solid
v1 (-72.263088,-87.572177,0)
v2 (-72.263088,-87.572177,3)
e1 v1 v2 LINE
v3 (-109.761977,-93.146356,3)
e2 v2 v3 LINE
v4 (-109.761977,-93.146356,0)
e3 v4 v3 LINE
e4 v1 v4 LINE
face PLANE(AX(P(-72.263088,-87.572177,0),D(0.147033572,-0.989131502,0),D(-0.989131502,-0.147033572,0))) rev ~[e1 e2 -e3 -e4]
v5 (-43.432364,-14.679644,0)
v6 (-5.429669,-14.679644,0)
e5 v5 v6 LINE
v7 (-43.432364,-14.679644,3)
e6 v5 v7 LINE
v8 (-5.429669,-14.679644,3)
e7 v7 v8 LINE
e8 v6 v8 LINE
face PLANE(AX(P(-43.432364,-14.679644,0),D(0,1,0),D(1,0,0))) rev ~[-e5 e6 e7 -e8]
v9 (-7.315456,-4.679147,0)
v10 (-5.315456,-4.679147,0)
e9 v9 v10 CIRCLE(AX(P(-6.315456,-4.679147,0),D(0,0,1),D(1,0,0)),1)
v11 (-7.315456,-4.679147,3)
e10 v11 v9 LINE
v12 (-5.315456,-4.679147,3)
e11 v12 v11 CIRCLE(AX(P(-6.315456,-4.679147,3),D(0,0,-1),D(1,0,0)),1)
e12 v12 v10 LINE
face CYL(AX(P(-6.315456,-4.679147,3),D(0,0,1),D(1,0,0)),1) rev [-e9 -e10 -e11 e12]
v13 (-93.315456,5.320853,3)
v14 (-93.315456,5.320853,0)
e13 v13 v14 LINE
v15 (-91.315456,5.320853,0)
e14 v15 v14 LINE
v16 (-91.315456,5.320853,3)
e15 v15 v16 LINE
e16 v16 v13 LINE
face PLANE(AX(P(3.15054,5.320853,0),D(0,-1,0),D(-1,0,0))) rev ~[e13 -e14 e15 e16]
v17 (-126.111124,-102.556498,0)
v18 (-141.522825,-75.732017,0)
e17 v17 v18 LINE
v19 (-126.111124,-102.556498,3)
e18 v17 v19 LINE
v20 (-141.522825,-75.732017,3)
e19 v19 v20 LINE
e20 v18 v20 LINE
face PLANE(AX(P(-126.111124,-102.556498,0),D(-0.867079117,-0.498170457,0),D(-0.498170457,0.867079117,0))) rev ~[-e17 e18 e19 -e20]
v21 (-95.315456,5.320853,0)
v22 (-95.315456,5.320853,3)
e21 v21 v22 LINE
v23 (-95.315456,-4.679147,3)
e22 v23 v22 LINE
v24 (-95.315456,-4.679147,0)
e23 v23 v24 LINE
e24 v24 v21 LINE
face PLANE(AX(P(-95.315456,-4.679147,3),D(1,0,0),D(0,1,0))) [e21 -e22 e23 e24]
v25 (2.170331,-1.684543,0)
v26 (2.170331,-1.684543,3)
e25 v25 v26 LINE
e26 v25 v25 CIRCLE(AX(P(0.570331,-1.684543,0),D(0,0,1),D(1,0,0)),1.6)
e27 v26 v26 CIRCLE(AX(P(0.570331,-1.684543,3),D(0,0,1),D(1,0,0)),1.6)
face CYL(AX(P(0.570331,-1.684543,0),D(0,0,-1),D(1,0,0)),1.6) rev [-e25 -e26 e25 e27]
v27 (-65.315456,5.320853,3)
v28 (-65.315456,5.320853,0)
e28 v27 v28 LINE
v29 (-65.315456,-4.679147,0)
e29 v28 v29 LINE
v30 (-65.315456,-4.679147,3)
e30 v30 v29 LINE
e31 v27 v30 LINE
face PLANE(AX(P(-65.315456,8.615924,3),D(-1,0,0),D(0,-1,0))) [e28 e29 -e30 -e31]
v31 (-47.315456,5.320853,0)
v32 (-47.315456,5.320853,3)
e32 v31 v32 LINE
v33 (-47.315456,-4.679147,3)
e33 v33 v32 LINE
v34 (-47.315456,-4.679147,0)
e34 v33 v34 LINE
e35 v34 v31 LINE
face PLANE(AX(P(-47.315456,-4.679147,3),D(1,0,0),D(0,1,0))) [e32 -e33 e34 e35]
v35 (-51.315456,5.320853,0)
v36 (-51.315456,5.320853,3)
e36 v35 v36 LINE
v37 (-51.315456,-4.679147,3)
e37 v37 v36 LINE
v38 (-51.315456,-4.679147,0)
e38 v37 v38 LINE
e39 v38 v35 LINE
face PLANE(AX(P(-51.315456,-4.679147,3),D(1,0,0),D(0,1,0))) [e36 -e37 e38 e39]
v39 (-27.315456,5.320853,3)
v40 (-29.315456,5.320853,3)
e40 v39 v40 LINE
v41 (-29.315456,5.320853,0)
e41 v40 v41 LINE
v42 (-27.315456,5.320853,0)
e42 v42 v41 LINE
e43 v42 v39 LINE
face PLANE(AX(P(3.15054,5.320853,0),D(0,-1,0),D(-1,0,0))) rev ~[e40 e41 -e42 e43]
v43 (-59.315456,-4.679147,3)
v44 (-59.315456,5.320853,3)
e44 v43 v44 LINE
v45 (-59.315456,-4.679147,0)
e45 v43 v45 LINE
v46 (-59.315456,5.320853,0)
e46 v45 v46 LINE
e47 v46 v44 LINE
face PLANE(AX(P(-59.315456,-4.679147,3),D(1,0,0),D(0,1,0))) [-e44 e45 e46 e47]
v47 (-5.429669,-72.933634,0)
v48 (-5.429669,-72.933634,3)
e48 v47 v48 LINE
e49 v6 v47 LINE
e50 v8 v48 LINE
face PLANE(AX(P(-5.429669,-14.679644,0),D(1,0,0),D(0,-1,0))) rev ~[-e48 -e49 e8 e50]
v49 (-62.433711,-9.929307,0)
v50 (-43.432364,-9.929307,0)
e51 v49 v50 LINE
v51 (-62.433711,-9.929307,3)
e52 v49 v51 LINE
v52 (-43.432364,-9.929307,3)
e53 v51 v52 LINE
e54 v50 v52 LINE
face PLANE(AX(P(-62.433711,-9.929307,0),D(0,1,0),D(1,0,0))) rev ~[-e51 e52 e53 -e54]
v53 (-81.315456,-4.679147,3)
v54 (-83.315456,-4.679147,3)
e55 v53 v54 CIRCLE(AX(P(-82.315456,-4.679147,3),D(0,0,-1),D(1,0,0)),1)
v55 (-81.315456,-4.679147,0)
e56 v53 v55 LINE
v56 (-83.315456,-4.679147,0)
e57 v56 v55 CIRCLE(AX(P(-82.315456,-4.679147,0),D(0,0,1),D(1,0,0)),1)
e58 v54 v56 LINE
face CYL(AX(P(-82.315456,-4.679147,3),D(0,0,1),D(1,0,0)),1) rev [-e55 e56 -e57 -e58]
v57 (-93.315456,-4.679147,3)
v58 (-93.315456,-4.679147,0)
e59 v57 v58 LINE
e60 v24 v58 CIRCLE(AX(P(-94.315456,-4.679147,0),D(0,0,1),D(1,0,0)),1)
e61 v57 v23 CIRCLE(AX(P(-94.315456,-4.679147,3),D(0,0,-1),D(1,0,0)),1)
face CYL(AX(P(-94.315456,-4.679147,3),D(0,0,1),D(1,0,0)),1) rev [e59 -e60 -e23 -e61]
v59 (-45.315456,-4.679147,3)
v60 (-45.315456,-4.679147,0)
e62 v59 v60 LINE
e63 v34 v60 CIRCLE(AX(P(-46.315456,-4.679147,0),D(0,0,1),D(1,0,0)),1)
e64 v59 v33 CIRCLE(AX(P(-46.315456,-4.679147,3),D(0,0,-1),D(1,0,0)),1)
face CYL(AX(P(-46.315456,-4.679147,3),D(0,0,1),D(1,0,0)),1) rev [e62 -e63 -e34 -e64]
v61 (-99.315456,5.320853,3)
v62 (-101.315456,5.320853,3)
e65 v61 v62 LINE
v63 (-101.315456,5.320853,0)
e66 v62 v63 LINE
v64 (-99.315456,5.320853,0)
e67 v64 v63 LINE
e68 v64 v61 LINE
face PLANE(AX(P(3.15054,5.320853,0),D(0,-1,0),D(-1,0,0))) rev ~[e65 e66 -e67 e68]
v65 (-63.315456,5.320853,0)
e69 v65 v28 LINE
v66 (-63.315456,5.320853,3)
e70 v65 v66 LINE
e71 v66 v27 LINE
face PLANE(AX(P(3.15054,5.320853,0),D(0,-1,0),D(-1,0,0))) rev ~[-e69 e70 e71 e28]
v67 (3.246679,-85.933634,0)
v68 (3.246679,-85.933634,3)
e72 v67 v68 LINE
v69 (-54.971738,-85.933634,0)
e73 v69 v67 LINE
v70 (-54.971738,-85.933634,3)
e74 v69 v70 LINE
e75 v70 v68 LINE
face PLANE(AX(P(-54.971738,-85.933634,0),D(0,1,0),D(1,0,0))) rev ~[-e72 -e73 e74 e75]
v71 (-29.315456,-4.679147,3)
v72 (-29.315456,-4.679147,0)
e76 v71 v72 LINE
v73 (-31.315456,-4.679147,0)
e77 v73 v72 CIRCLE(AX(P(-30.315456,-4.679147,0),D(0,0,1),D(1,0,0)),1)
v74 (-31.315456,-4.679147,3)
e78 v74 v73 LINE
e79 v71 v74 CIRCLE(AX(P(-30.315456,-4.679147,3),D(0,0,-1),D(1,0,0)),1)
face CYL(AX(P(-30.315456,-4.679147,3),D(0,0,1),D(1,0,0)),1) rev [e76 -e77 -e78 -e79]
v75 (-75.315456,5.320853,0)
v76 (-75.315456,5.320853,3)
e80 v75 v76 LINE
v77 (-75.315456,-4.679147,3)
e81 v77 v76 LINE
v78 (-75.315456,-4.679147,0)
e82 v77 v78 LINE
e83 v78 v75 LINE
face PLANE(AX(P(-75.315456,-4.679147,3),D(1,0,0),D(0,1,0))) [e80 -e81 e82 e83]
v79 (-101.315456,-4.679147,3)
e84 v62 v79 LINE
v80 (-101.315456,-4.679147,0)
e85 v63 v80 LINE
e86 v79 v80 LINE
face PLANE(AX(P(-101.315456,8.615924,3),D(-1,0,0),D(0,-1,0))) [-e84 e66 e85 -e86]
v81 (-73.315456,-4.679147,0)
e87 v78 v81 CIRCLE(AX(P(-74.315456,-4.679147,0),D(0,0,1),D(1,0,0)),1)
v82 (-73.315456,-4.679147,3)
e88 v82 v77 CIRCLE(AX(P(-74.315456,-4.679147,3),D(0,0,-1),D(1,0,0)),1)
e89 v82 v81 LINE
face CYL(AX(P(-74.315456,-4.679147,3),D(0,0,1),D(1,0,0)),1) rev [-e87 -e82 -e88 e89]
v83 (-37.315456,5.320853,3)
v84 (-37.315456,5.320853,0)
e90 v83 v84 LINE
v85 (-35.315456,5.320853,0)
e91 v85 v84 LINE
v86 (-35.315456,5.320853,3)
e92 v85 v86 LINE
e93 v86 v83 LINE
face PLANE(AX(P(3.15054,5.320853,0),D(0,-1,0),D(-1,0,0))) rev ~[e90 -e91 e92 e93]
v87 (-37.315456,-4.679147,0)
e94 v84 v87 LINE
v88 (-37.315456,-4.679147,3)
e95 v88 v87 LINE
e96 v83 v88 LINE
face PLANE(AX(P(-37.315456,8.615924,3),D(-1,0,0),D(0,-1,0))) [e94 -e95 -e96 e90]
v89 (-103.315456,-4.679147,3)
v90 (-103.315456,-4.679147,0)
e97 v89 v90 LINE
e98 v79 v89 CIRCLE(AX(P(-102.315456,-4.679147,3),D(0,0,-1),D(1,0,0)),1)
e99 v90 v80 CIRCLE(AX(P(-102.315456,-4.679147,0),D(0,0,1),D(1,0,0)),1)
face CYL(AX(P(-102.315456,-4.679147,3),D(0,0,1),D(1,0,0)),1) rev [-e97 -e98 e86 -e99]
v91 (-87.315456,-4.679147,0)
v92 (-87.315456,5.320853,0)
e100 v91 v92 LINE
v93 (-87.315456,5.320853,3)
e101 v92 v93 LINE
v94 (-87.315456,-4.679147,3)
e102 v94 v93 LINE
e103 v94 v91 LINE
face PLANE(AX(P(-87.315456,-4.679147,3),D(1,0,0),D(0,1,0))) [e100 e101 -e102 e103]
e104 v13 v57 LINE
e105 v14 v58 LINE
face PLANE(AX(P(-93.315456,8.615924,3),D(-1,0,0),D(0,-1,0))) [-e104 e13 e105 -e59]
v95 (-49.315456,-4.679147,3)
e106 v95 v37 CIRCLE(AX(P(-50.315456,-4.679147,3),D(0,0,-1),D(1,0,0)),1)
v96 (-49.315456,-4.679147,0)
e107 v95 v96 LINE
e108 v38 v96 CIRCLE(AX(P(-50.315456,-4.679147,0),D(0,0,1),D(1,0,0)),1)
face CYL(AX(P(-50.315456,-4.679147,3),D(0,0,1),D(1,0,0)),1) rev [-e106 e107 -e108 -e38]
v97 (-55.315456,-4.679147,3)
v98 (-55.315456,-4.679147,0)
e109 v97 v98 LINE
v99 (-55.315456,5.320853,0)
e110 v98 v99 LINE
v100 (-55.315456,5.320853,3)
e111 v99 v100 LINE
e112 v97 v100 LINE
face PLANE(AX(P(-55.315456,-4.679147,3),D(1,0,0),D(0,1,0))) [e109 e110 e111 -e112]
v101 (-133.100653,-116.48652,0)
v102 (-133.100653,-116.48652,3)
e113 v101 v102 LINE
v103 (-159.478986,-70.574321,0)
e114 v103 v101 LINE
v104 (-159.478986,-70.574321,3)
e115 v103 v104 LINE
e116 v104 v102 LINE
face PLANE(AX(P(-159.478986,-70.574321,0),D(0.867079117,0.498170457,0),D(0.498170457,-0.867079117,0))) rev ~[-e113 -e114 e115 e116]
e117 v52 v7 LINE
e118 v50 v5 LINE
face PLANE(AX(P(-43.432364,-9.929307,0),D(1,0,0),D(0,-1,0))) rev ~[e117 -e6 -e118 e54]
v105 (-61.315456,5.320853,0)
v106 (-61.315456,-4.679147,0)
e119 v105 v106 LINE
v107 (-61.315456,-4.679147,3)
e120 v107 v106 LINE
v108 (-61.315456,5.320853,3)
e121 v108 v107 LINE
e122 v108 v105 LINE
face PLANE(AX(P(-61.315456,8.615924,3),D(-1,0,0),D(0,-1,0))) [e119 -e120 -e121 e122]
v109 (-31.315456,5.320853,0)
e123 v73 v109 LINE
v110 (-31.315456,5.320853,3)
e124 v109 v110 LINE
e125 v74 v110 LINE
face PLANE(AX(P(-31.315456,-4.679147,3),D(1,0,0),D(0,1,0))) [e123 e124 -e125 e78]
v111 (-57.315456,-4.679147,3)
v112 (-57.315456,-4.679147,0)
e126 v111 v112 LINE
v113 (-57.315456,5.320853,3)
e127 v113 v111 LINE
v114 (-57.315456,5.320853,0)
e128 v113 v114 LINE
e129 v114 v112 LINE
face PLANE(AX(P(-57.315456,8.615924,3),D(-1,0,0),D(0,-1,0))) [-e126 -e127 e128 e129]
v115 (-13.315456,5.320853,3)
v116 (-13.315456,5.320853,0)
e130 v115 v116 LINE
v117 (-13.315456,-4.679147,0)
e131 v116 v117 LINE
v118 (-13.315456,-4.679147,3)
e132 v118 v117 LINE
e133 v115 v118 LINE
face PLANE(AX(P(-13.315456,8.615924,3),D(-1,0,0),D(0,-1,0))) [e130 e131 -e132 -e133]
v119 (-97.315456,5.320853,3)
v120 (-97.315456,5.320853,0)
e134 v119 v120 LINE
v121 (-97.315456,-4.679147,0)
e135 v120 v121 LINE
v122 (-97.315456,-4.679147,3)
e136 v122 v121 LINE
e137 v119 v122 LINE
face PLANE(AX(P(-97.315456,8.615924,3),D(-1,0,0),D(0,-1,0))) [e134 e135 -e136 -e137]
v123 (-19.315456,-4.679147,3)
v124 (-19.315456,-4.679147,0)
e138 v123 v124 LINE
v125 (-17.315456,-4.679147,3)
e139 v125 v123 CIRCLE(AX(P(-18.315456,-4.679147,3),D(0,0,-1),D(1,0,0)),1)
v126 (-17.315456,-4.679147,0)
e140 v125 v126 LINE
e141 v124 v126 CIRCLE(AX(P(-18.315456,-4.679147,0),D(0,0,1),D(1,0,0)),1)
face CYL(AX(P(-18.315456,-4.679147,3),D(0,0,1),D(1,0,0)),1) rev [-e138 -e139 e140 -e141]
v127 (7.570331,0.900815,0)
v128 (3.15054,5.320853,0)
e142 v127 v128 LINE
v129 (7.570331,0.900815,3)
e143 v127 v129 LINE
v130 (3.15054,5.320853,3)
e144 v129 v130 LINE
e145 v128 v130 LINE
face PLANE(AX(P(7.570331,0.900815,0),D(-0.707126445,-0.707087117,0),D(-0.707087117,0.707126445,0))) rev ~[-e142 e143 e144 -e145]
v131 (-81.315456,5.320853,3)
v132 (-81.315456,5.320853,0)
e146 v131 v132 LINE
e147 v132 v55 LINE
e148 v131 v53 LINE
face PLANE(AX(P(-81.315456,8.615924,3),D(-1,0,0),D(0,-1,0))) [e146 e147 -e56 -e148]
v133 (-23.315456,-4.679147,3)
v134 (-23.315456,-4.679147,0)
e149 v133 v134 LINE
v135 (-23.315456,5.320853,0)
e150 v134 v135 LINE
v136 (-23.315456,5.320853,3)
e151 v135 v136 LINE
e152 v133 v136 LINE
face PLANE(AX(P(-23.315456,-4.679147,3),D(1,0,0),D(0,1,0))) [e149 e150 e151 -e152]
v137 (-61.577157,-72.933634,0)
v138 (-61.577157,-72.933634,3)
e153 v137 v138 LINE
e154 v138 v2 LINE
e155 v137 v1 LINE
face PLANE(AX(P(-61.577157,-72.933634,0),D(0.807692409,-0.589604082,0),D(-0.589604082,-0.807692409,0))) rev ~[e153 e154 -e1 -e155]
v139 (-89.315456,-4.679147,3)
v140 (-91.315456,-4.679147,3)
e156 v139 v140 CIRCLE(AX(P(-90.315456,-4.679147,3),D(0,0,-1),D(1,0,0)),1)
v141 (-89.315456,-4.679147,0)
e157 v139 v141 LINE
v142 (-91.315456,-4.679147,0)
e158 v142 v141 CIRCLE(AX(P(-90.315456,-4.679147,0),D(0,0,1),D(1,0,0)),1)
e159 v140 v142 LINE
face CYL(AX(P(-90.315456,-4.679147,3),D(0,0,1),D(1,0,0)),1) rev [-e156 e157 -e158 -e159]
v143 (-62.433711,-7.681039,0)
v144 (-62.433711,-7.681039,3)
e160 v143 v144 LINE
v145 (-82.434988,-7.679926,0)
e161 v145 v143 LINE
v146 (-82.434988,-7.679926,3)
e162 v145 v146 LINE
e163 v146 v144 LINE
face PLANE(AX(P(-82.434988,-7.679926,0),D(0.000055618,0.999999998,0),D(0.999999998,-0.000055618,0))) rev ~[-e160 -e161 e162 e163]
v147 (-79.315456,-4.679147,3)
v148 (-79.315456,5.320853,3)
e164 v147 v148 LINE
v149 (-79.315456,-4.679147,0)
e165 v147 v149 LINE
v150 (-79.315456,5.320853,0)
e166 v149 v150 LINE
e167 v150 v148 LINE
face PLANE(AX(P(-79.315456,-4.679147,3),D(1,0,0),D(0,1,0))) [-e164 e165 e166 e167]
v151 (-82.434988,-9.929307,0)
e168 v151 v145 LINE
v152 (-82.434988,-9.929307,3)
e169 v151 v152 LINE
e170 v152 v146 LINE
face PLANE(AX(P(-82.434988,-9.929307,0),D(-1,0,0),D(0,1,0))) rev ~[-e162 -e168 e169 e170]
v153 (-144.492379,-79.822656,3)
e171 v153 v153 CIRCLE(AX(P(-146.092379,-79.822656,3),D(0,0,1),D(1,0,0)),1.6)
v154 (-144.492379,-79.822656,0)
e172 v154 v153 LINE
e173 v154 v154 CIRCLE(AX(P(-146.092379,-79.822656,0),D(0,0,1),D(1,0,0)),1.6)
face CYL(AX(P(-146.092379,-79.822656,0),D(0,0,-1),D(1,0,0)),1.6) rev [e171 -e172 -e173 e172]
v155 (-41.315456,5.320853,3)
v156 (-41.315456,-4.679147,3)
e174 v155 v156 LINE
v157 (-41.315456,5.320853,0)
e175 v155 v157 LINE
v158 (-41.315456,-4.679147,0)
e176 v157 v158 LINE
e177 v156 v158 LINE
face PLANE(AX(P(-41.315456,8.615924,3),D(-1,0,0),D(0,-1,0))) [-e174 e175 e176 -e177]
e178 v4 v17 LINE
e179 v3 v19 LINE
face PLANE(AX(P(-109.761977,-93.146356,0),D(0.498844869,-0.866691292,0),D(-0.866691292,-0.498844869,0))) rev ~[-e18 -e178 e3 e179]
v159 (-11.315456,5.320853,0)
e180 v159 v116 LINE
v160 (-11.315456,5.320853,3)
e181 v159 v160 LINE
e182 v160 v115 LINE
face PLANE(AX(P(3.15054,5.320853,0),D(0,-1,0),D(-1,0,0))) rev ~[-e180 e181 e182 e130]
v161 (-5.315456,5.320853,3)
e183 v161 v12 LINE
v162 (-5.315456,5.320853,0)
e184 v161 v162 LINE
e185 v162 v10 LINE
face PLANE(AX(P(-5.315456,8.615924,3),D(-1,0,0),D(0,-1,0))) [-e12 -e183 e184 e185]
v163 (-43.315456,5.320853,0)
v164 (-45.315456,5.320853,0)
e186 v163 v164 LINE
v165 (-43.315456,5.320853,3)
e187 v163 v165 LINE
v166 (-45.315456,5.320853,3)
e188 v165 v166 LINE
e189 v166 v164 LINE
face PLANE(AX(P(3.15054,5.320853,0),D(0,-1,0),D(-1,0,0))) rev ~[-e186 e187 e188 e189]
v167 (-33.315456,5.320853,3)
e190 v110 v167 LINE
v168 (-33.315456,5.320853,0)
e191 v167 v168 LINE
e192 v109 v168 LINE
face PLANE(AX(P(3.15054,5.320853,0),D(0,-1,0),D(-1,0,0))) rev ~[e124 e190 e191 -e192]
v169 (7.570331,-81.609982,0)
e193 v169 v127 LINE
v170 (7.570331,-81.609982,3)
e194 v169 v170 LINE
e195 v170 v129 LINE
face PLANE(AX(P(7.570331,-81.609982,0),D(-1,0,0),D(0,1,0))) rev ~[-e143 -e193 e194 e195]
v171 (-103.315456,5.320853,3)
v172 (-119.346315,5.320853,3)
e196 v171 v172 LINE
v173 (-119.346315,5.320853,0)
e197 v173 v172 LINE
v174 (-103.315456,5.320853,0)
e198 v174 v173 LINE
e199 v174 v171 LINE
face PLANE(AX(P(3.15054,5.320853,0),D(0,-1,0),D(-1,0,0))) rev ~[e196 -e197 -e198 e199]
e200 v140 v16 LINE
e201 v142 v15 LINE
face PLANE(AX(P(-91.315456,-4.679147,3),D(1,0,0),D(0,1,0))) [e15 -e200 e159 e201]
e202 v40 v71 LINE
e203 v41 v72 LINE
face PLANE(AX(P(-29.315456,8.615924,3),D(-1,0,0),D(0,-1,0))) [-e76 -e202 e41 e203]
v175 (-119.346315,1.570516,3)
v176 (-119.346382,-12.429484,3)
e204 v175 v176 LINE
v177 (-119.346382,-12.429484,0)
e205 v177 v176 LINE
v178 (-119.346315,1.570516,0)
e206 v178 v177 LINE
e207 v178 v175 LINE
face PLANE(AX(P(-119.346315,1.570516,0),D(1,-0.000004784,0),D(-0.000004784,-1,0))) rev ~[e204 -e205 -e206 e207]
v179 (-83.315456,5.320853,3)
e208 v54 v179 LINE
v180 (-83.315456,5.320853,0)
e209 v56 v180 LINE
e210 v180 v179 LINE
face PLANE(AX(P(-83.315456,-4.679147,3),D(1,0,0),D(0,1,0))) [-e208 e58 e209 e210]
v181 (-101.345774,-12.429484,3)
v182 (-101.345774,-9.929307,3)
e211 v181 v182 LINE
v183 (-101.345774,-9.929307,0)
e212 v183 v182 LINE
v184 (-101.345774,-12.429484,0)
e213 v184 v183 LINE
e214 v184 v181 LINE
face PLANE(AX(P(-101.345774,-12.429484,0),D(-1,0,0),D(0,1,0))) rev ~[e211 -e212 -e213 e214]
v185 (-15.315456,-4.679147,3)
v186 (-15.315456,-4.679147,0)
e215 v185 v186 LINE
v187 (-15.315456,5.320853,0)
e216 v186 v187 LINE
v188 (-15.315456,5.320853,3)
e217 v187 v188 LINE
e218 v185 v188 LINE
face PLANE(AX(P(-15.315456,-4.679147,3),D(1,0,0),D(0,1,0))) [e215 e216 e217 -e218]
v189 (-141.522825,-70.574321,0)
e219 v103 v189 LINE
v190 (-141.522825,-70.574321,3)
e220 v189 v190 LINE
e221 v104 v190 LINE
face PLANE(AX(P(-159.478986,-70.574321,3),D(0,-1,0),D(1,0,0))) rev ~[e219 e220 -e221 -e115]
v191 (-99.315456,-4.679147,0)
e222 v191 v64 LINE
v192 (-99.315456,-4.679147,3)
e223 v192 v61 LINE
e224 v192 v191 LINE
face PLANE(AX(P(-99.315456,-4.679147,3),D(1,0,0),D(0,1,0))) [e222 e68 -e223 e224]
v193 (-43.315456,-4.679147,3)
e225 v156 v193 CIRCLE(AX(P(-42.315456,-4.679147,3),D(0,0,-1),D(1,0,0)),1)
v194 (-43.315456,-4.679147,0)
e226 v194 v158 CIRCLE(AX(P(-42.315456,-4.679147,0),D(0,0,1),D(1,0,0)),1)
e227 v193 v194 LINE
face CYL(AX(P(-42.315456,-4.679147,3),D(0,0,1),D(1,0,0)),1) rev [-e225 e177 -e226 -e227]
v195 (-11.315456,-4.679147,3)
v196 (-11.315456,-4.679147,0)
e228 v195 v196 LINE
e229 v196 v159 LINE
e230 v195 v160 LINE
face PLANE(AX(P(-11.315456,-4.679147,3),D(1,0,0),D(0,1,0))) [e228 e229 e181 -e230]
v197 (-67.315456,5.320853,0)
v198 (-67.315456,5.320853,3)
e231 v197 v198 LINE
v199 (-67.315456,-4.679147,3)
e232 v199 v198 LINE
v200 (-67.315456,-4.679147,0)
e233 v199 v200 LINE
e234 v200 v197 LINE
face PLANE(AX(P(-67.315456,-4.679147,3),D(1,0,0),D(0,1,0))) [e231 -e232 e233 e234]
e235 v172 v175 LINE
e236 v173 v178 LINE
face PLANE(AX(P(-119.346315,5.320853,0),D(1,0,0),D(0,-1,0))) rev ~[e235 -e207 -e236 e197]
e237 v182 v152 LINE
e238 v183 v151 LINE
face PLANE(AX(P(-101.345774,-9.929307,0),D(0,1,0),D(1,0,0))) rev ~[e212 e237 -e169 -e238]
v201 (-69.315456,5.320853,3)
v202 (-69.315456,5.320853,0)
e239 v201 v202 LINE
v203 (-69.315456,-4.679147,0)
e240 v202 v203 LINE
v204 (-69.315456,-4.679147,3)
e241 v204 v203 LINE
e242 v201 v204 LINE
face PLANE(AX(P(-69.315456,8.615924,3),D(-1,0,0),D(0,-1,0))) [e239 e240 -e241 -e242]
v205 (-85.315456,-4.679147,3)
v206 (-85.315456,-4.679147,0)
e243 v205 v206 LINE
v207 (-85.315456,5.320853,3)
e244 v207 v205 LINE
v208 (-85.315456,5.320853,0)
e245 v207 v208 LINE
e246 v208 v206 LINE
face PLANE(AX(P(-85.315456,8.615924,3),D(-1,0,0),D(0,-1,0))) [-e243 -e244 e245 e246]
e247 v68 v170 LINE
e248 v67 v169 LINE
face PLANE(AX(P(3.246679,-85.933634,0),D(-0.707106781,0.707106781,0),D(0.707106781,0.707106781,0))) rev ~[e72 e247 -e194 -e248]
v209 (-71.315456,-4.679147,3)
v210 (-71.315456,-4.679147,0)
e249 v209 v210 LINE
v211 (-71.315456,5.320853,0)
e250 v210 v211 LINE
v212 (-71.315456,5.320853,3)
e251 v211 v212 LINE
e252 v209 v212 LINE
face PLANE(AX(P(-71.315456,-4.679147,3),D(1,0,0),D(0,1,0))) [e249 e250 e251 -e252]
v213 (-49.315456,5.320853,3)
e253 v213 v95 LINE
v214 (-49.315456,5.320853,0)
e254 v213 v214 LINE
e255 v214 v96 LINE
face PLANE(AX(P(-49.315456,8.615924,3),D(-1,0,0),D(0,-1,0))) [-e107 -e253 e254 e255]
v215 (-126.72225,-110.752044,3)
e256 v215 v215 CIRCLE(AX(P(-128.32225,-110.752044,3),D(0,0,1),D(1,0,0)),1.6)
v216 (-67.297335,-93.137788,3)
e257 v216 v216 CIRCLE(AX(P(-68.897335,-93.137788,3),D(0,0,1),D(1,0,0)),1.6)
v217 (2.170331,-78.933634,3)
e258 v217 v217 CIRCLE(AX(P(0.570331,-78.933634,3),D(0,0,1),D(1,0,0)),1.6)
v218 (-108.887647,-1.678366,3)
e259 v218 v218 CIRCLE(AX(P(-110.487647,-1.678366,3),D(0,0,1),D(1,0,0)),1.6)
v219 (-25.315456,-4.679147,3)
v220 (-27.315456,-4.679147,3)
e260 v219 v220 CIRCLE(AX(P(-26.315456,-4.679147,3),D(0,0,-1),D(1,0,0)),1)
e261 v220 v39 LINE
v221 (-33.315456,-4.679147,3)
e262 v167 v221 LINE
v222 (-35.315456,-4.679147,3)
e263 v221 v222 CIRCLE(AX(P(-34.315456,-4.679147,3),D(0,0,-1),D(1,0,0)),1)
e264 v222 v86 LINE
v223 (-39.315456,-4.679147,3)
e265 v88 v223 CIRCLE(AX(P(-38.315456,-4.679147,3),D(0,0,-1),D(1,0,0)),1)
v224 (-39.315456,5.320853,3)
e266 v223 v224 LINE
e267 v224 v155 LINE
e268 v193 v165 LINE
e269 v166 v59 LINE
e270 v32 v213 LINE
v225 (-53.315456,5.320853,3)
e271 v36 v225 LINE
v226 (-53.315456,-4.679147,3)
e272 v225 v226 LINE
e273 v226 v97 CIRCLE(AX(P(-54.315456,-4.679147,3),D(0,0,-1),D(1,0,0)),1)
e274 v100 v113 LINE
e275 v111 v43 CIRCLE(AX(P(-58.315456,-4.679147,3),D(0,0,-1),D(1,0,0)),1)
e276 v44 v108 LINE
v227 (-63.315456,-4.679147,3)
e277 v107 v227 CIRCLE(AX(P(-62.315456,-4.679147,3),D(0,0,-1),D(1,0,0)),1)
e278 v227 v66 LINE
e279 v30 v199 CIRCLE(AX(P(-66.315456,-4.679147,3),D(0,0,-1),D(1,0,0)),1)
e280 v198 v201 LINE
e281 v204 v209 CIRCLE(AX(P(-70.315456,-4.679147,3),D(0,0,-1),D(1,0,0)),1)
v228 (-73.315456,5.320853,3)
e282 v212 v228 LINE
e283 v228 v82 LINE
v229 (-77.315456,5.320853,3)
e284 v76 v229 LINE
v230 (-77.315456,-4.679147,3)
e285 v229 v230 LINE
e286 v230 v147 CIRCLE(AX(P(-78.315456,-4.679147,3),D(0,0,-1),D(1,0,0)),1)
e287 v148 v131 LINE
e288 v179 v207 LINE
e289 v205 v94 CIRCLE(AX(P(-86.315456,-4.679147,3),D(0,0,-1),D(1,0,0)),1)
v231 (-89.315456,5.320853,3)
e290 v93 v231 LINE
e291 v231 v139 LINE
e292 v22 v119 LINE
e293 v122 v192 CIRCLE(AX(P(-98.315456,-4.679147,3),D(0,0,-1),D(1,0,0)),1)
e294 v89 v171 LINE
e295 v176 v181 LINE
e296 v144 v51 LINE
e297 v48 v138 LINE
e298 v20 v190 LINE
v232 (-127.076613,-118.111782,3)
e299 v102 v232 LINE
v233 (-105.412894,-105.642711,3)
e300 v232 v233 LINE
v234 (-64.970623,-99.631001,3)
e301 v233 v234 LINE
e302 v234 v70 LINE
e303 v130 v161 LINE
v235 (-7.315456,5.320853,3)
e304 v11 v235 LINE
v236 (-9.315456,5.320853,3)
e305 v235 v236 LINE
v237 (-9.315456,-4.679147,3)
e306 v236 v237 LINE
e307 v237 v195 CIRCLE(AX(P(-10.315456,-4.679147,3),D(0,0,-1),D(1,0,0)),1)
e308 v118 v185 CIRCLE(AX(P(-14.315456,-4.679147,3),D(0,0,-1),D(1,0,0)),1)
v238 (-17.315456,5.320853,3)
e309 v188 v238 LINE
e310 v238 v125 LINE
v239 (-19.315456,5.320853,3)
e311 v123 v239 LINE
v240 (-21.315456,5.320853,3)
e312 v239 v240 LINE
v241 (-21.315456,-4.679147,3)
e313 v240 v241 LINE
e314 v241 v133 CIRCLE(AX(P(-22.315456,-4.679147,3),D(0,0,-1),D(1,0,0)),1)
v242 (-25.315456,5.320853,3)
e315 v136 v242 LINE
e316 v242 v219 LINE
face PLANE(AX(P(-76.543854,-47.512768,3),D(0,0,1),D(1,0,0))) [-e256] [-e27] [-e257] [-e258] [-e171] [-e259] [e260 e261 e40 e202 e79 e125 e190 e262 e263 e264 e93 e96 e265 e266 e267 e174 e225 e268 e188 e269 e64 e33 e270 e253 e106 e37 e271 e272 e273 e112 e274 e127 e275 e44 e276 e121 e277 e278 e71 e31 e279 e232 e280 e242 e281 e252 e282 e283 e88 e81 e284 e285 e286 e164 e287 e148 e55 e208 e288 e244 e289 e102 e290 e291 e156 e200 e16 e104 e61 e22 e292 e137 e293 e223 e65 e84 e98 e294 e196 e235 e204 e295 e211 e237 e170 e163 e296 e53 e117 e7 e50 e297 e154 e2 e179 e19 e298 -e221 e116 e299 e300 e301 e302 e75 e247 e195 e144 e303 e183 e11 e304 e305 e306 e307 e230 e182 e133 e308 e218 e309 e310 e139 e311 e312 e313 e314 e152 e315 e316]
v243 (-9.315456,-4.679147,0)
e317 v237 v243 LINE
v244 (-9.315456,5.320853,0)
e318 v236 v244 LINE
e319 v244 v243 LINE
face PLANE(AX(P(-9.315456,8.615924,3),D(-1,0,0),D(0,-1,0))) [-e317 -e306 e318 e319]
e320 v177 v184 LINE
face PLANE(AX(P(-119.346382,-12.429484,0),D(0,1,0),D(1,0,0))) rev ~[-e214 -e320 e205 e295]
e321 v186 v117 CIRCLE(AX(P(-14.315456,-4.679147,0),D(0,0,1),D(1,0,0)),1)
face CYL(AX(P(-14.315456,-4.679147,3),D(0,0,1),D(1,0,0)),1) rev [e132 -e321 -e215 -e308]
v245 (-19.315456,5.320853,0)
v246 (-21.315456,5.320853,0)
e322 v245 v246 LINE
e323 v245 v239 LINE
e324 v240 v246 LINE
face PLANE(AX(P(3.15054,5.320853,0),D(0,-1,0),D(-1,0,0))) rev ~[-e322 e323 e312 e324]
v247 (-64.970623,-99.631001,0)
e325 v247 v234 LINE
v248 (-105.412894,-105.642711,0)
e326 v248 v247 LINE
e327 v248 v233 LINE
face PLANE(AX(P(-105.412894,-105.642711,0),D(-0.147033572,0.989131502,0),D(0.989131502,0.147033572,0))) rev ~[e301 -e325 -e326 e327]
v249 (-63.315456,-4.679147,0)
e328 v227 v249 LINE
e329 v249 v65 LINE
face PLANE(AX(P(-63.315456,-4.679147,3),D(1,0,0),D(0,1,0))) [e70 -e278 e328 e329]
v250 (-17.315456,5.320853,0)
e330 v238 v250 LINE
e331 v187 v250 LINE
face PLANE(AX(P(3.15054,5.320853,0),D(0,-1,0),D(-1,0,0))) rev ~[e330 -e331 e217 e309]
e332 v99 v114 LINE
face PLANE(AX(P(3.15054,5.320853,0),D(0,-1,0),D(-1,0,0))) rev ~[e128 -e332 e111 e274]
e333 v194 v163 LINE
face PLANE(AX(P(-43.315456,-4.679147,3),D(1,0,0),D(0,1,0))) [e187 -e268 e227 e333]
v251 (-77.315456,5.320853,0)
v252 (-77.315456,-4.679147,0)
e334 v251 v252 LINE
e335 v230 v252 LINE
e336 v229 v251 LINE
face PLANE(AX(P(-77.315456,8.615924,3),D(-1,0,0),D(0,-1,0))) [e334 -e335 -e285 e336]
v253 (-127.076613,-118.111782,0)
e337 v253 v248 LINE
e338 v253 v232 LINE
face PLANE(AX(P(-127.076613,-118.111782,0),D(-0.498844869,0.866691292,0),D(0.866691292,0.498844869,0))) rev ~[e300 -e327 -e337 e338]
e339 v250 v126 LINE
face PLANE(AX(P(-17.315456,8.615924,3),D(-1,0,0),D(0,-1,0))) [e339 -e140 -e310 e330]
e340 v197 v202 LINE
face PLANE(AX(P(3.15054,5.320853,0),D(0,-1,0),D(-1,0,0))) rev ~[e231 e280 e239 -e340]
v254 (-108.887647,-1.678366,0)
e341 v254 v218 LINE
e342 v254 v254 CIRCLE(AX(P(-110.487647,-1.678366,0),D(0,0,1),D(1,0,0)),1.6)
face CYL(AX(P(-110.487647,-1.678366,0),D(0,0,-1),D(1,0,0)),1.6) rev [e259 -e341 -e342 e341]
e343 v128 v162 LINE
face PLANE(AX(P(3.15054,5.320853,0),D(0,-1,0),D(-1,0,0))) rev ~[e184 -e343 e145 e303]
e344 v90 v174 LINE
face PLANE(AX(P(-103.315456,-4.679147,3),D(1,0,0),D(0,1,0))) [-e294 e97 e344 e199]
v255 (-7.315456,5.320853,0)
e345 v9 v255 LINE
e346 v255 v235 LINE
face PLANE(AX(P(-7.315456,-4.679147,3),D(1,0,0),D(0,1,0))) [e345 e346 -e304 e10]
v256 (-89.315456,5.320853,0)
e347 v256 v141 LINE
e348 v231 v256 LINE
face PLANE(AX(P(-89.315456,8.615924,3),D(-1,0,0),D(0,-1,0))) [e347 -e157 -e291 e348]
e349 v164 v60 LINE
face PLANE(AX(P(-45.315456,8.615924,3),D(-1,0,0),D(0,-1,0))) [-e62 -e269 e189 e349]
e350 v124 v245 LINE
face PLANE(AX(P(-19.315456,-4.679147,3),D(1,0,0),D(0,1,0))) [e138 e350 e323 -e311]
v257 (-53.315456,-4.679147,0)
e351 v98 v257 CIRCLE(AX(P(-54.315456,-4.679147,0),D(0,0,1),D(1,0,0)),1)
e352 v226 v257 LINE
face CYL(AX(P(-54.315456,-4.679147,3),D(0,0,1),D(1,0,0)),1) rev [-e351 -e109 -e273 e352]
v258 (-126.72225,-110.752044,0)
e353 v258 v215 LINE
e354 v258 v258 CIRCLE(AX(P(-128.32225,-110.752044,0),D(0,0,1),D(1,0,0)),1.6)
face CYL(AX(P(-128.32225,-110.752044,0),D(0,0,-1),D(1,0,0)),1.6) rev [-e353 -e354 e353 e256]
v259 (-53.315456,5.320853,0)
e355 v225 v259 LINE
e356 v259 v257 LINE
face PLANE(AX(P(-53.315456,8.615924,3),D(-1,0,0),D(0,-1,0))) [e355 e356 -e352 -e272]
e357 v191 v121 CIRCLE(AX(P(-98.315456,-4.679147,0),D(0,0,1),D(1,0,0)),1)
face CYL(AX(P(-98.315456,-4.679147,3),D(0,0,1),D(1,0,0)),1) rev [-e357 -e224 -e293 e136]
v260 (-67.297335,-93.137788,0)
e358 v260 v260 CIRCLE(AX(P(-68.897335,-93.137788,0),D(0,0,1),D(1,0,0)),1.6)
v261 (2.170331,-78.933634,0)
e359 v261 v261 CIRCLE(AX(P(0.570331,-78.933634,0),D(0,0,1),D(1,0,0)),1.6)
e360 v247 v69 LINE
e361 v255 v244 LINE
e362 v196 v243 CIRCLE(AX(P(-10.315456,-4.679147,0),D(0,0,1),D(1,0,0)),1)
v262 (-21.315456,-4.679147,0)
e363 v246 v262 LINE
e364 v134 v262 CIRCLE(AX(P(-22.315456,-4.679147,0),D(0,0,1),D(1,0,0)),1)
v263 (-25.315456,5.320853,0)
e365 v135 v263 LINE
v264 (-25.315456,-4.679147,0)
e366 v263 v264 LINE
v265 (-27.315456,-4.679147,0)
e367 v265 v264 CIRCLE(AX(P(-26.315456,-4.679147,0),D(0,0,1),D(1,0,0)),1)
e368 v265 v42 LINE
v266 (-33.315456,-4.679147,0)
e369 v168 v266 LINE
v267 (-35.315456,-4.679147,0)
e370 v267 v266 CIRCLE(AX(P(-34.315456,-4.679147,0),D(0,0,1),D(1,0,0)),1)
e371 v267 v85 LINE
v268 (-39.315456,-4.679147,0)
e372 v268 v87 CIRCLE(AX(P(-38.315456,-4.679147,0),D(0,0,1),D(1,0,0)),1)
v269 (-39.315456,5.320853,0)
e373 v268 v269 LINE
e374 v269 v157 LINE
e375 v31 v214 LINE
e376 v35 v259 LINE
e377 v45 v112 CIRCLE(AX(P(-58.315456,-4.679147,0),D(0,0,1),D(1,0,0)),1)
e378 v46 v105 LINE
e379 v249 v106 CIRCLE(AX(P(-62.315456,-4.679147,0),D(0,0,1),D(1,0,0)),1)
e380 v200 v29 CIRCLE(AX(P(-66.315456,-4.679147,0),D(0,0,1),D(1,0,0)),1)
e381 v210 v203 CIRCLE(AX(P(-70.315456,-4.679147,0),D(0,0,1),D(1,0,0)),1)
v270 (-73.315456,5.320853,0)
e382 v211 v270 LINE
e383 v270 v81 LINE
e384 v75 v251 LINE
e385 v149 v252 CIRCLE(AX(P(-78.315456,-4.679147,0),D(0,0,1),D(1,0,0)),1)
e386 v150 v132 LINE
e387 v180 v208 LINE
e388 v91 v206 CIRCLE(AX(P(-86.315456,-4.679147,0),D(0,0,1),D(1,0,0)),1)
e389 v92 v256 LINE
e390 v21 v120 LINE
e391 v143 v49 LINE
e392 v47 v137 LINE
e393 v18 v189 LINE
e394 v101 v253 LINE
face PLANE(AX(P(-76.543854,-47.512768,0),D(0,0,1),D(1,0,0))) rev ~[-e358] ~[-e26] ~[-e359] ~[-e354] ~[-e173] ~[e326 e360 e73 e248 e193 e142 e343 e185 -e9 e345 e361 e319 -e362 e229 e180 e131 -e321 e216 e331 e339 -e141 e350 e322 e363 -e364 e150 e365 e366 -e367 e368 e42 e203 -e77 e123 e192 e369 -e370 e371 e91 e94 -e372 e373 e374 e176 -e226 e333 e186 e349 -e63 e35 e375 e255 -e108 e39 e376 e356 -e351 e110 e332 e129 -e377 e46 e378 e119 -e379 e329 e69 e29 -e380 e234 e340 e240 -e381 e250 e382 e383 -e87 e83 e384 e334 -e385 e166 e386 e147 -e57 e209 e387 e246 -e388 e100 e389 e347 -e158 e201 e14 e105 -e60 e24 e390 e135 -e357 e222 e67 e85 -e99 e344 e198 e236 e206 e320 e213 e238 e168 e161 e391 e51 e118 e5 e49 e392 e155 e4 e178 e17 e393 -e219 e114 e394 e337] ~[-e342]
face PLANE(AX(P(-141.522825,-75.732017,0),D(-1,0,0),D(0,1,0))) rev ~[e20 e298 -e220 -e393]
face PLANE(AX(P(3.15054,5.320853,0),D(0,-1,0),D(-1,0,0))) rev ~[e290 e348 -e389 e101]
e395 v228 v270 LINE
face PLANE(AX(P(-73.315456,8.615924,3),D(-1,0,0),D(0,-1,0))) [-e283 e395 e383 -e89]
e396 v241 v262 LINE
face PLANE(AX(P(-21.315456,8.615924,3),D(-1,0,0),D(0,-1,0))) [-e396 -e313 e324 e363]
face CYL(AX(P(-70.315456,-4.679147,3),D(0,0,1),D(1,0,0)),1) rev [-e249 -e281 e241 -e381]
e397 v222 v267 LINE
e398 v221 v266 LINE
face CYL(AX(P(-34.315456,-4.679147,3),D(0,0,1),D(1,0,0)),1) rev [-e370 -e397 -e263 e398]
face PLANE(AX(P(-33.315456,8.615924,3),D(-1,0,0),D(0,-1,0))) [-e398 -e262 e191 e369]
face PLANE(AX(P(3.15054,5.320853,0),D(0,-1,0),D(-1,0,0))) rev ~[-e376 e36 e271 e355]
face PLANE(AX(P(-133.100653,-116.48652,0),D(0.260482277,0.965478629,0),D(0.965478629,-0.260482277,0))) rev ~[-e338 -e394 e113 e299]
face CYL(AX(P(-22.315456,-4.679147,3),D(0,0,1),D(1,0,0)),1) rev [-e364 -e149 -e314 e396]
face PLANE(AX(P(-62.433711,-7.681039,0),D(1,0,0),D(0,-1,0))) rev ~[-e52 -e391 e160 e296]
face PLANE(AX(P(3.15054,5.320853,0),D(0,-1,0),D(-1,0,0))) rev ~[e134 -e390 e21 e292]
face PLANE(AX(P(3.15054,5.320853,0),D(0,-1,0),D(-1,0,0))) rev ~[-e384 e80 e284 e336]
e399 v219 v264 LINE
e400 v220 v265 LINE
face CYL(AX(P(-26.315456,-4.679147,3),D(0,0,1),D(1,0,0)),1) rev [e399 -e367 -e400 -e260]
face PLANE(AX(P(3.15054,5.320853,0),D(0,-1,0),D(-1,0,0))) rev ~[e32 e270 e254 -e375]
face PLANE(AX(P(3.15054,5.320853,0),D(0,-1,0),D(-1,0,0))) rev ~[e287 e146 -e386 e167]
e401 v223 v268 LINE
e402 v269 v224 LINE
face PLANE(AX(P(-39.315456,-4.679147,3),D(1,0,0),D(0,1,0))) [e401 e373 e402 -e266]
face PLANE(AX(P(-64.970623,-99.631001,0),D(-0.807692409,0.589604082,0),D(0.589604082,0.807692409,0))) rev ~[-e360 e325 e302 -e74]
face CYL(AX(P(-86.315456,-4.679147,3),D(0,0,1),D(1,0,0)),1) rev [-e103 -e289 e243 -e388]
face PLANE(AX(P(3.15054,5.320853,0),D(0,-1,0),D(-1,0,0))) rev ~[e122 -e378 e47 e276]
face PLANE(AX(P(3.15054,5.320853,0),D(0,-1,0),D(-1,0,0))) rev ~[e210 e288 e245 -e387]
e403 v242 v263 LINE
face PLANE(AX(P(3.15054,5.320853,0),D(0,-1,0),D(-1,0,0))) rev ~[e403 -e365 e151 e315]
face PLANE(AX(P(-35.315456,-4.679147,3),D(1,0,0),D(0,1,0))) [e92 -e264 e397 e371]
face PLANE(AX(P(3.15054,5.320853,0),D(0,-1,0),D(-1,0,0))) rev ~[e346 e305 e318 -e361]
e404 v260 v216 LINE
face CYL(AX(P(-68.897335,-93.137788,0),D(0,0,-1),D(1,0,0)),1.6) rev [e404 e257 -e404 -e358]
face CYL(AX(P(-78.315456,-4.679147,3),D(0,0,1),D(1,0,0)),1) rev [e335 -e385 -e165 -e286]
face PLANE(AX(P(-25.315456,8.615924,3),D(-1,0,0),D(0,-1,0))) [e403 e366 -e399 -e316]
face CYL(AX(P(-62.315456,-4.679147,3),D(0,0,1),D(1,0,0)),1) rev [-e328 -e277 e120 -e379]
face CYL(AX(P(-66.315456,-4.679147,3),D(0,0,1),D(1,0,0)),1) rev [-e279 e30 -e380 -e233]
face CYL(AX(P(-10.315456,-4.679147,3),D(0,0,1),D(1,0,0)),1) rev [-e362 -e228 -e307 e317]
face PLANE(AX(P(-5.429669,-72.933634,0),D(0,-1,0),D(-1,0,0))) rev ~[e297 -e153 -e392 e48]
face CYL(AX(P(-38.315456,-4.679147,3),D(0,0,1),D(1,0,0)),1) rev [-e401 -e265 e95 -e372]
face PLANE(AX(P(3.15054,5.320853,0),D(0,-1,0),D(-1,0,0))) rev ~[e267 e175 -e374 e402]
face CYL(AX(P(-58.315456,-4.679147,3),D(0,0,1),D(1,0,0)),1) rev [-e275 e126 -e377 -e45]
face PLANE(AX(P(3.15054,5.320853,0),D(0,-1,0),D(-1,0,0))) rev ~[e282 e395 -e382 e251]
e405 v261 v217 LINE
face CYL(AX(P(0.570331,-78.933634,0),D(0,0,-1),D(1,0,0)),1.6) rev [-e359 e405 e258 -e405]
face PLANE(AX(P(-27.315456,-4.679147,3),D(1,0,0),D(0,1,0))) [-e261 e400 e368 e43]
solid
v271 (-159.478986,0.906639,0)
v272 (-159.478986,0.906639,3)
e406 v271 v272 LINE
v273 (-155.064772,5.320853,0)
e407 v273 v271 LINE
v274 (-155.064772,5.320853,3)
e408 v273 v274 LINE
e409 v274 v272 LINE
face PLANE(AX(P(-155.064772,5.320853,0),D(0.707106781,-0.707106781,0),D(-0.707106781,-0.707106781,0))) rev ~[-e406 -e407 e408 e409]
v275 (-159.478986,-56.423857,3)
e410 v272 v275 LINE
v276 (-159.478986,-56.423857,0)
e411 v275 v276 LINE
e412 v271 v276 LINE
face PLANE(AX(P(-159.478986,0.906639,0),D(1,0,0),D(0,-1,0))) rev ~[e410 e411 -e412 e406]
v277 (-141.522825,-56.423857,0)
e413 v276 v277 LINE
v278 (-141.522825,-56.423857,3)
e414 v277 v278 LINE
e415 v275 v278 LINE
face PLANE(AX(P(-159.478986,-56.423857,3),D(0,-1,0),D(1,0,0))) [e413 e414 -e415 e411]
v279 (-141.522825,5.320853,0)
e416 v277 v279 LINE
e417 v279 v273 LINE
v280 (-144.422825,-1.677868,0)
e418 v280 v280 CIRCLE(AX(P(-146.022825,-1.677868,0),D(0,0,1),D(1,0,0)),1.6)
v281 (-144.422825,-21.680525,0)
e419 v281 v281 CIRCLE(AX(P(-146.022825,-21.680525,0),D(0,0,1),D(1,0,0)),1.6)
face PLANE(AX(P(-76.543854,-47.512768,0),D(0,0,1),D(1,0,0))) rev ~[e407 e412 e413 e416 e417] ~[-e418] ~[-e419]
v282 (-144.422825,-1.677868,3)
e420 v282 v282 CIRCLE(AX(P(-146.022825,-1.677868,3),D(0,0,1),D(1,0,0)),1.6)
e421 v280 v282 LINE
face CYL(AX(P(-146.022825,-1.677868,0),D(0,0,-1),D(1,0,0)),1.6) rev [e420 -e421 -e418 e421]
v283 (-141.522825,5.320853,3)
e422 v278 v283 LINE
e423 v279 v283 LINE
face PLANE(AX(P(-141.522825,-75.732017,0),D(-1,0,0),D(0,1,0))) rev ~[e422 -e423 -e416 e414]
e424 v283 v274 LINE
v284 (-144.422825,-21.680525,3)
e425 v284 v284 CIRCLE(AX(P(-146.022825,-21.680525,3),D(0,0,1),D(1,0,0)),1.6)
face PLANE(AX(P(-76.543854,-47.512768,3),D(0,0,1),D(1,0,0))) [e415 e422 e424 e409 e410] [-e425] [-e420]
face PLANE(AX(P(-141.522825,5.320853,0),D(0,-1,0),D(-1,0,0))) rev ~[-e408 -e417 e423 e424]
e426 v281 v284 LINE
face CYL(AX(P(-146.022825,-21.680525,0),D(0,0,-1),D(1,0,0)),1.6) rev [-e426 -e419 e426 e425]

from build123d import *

# Parameters (mm, degrees)
ESQUISSE1_R             = 1.6
BOSS_EXTRU_1_DEPTH      = 3
ENL_V_MAT_EXTRU_1_DEPTH = 10
ESQUISSE3_W             = 19.456160795
ESQUISSE3_H             = 14.150463698
ENL_V_MAT_EXTRU_2_DEPTH = 10


with BuildPart() as part:
    # Esquisse1 → Boss.-Extru.1 (new body)
    with BuildSketch(Plane.XY):
        Polygon((-119.346315028, 5.320852512), (-119.346315028, 1.570515597), (-119.346382005, -12.429484403), (-101.345774335, -12.429484403), (-101.345774335, -9.929307079), (-82.434988213, -9.929307079), (-82.434988213, -7.679926158), (-62.433711482, -7.681038584), (-62.433711482, -9.929307079), (-43.432363825, -9.929307079), (-43.432363825, -14.679643994), (-5.429668504, -14.679643994), (-5.429668504, -72.933633781), (-61.577157206, -72.933633781), (-72.263087593, -87.572177036), (-109.761976756, -93.1463556), (-126.111124489, -102.556497988), (-141.52282508, -75.732017442), (-141.52282508, 5.320852512), (-155.064772313, 5.320852512), (-159.478985875, 0.90663895), (-159.478985875, -70.574320891), (-133.100653393, -116.486520024), (-127.076613358, -118.11178196), (-105.412894174, -105.642711064), (-64.97062335, -99.631001274), (-54.971738012, -85.933633781), (3.246679477, -85.933633781), (7.570331496, -81.609981762), (7.570331496, 0.900815081), (3.15053989, 5.320852512), align=None)
        with Locations((-146.02282508, -21.680525068)):
            Circle(ESQUISSE1_R, mode=Mode.SUBTRACT)
        with Locations((0.570331496, -1.684542717)):
            Circle(ESQUISSE1_R, mode=Mode.SUBTRACT)
        with Locations((-110.487646531, -1.678365923)):
            Circle(ESQUISSE1_R, mode=Mode.SUBTRACT)
        with Locations((-146.02282508, -1.677868186)):
            Circle(ESQUISSE1_R, mode=Mode.SUBTRACT)
        with Locations((-146.0923789, -79.822656053)):
            Circle(ESQUISSE1_R, mode=Mode.SUBTRACT)
        with Locations((-128.322250168, -110.752044388)):
            Circle(ESQUISSE1_R, mode=Mode.SUBTRACT)
        with Locations((-68.897334865, -93.137788223)):
            Circle(ESQUISSE1_R, mode=Mode.SUBTRACT)
        with Locations((0.570331496, -78.933633781)):
            Circle(ESQUISSE1_R, mode=Mode.SUBTRACT)
    extrude(amount=BOSS_EXTRU_1_DEPTH)

    # Esquisse2 → Enlèv. mat.-Extru.1 (cut)
    with BuildSketch(Plane.XY.offset(3)):
        with BuildLine():
            Line((-5.315456398, 8.615924369), (-5.315456398, -4.679147488))
            ThreePointArc((-5.315456398, -4.679147488), (-6.315456398, -5.679147488), (-7.315456398, -4.679147488))
            Line((-7.315456398, -4.679147488), (-7.315456398, 8.615924369))
            ThreePointArc((-7.315456398, 8.615924369), (-6.315456398, 9.615924369), (-5.315456398, 8.615924369))
        make_face()
        with BuildLine():
            Line((-9.315456398, 8.615924369), (-9.315456398, -4.679147488))
            ThreePointArc((-9.315456398, -4.679147488), (-10.315456398, -5.679147488), (-11.315456398, -4.679147488))
            Line((-11.315456398, -4.679147488), (-11.315456398, 8.615924369))
            ThreePointArc((-11.315456398, 8.615924369), (-10.315456398, 9.615924369), (-9.315456398, 8.615924369))
        make_face()
        with BuildLine():
            Line((-13.315456398, 8.615924369), (-13.315456398, -4.679147488))
            ThreePointArc((-13.315456398, -4.679147488), (-14.315456398, -5.679147488), (-15.315456398, -4.679147488))
            Line((-15.315456398, -4.679147488), (-15.315456398, 8.615924369))
            ThreePointArc((-15.315456398, 8.615924369), (-14.315456398, 9.615924369), (-13.315456398, 8.615924369))
        make_face()
        with BuildLine():
            Line((-17.315456398, 8.615924369), (-17.315456398, -4.679147488))
            ThreePointArc((-17.315456398, -4.679147488), (-18.315456398, -5.679147488), (-19.315456398, -4.679147488))
            Line((-19.315456398, -4.679147488), (-19.315456398, 8.615924369))
            ThreePointArc((-19.315456398, 8.615924369), (-18.315456398, 9.615924369), (-17.315456398, 8.615924369))
        make_face()
        with BuildLine():
            Line((-21.315456398, 8.615924369), (-21.315456398, -4.679147488))
            ThreePointArc((-21.315456398, -4.679147488), (-22.315456398, -5.679147488), (-23.315456398, -4.679147488))
            Line((-23.315456398, -4.679147488), (-23.315456398, 8.615924369))
            ThreePointArc((-23.315456398, 8.615924369), (-22.315456398, 9.615924369), (-21.315456398, 8.615924369))
        make_face()
        with BuildLine():
            Line((-25.315456398, 8.615924369), (-25.315456398, -4.679147488))
            ThreePointArc((-25.315456398, -4.679147488), (-26.315456398, -5.679147488), (-27.315456398, -4.679147488))
            Line((-27.315456398, -4.679147488), (-27.315456398, 8.615924369))
            ThreePointArc((-27.315456398, 8.615924369), (-26.315456398, 9.615924369), (-25.315456398, 8.615924369))
        make_face()
        with BuildLine():
            Line((-29.315456398, 8.615924369), (-29.315456398, -4.679147488))
            ThreePointArc((-29.315456398, -4.679147488), (-30.315456398, -5.679147488), (-31.315456398, -4.679147488))
            Line((-31.315456398, -4.679147488), (-31.315456398, 8.615924369))
            ThreePointArc((-31.315456398, 8.615924369), (-30.315456398, 9.615924369), (-29.315456398, 8.615924369))
        make_face()
        with BuildLine():
            Line((-33.315456398, 8.615924369), (-33.315456398, -4.679147488))
            ThreePointArc((-33.315456398, -4.679147488), (-34.315456398, -5.679147488), (-35.315456398, -4.679147488))
            Line((-35.315456398, -4.679147488), (-35.315456398, 8.615924369))
            ThreePointArc((-35.315456398, 8.615924369), (-34.315456398, 9.615924369), (-33.315456398, 8.615924369))
        make_face()
        with BuildLine():
            Line((-37.315456398, 8.615924369), (-37.315456398, -4.679147488))
            ThreePointArc((-37.315456398, -4.679147488), (-38.315456398, -5.679147488), (-39.315456398, -4.679147488))
            Line((-39.315456398, -4.679147488), (-39.315456398, 8.615924369))
            ThreePointArc((-39.315456398, 8.615924369), (-38.315456398, 9.615924369), (-37.315456398, 8.615924369))
        make_face()
        with BuildLine():
            Line((-41.315456398, 8.615924369), (-41.315456398, -4.679147488))
            ThreePointArc((-41.315456398, -4.679147488), (-42.315456398, -5.679147488), (-43.315456398, -4.679147488))
            Line((-43.315456398, -4.679147488), (-43.315456398, 8.615924369))
            ThreePointArc((-43.315456398, 8.615924369), (-42.315456398, 9.615924369), (-41.315456398, 8.615924369))
        make_face()
        with BuildLine():
            Line((-45.315456398, 8.615924369), (-45.315456398, -4.679147488))
            ThreePointArc((-45.315456398, -4.679147488), (-46.315456398, -5.679147488), (-47.315456398, -4.679147488))
            Line((-47.315456398, -4.679147488), (-47.315456398, 8.615924369))
            ThreePointArc((-47.315456398, 8.615924369), (-46.315456398, 9.615924369), (-45.315456398, 8.615924369))
        make_face()
        with BuildLine():
            Line((-49.315456398, 8.615924369), (-49.315456398, -4.679147488))
            ThreePointArc((-49.315456398, -4.679147488), (-50.315456398, -5.679147488), (-51.315456398, -4.679147488))
            Line((-51.315456398, -4.679147488), (-51.315456398, 8.615924369))
            ThreePointArc((-51.315456398, 8.615924369), (-50.315456398, 9.615924369), (-49.315456398, 8.615924369))
        make_face()
        with BuildLine():
            Line((-53.315456398, 8.615924369), (-53.315456398, -4.679147488))
            ThreePointArc((-53.315456398, -4.679147488), (-54.315456398, -5.679147488), (-55.315456398, -4.679147488))
            Line((-55.315456398, -4.679147488), (-55.315456398, 8.615924369))
            ThreePointArc((-55.315456398, 8.615924369), (-54.315456398, 9.615924369), (-53.315456398, 8.615924369))
        make_face()
        with BuildLine():
            Line((-57.315456398, 8.615924369), (-57.315456398, -4.679147488))
            ThreePointArc((-57.315456398, -4.679147488), (-58.315456398, -5.679147488), (-59.315456398, -4.679147488))
            Line((-59.315456398, -4.679147488), (-59.315456398, 8.615924369))
            ThreePointArc((-59.315456398, 8.615924369), (-58.315456398, 9.615924369), (-57.315456398, 8.615924369))
        make_face()
        with BuildLine():
            Line((-61.315456398, 8.615924369), (-61.315456398, -4.679147488))
            ThreePointArc((-61.315456398, -4.679147488), (-62.315456398, -5.679147488), (-63.315456398, -4.679147488))
            Line((-63.315456398, -4.679147488), (-63.315456398, 8.615924369))
            ThreePointArc((-63.315456398, 8.615924369), (-62.315456398, 9.615924369), (-61.315456398, 8.615924369))
        make_face()
        with BuildLine():
            Line((-65.315456398, 8.615924369), (-65.315456398, -4.679147488))
            ThreePointArc((-65.315456398, -4.679147488), (-66.315456398, -5.679147488), (-67.315456398, -4.679147488))
            Line((-67.315456398, -4.679147488), (-67.315456398, 8.615924369))
            ThreePointArc((-67.315456398, 8.615924369), (-66.315456398, 9.615924369), (-65.315456398, 8.615924369))
        make_face()
        with BuildLine():
            Line((-69.315456398, 8.615924369), (-69.315456398, -4.679147488))
            ThreePointArc((-69.315456398, -4.679147488), (-70.315456398, -5.679147488), (-71.315456398, -4.679147488))
            Line((-71.315456398, -4.679147488), (-71.315456398, 8.615924369))
            ThreePointArc((-71.315456398, 8.615924369), (-70.315456398, 9.615924369), (-69.315456398, 8.615924369))
        make_face()
        with BuildLine():
            Line((-73.315456398, 8.615924369), (-73.315456398, -4.679147488))
            ThreePointArc((-73.315456398, -4.679147488), (-74.315456398, -5.679147488), (-75.315456398, -4.679147488))
            Line((-75.315456398, -4.679147488), (-75.315456398, 8.615924369))
            ThreePointArc((-75.315456398, 8.615924369), (-74.315456398, 9.615924369), (-73.315456398, 8.615924369))
        make_face()
        with BuildLine():
            Line((-77.315456398, 8.615924369), (-77.315456398, -4.679147488))
            ThreePointArc((-77.315456398, -4.679147488), (-78.315456398, -5.679147488), (-79.315456398, -4.679147488))
            Line((-79.315456398, -4.679147488), (-79.315456398, 8.615924369))
            ThreePointArc((-79.315456398, 8.615924369), (-78.315456398, 9.615924369), (-77.315456398, 8.615924369))
        make_face()
        with BuildLine():
            Line((-81.315456398, 8.615924369), (-81.315456398, -4.679147488))
            ThreePointArc((-81.315456398, -4.679147488), (-82.315456398, -5.679147488), (-83.315456398, -4.679147488))
            Line((-83.315456398, -4.679147488), (-83.315456398, 8.615924369))
            ThreePointArc((-83.315456398, 8.615924369), (-82.315456398, 9.615924369), (-81.315456398, 8.615924369))
        make_face()
        with BuildLine():
            Line((-85.315456398, 8.615924369), (-85.315456398, -4.679147488))
            ThreePointArc((-85.315456398, -4.679147488), (-86.315456398, -5.679147488), (-87.315456398, -4.679147488))
            Line((-87.315456398, -4.679147488), (-87.315456398, 8.615924369))
            ThreePointArc((-87.315456398, 8.615924369), (-86.315456398, 9.615924369), (-85.315456398, 8.615924369))
        make_face()
        with BuildLine():
            Line((-89.315456398, 8.615924369), (-89.315456398, -4.679147488))
            ThreePointArc((-89.315456398, -4.679147488), (-90.315456398, -5.679147488), (-91.315456398, -4.679147488))
            Line((-91.315456398, -4.679147488), (-91.315456398, 8.615924369))
            ThreePointArc((-91.315456398, 8.615924369), (-90.315456398, 9.615924369), (-89.315456398, 8.615924369))
        make_face()
        with BuildLine():
            Line((-93.315456398, 8.615924369), (-93.315456398, -4.679147488))
            ThreePointArc((-93.315456398, -4.679147488), (-94.315456398, -5.679147488), (-95.315456398, -4.679147488))
            Line((-95.315456398, -4.679147488), (-95.315456398, 8.615924369))
            ThreePointArc((-95.315456398, 8.615924369), (-94.315456398, 9.615924369), (-93.315456398, 8.615924369))
        make_face()
        with BuildLine():
            Line((-97.315456398, 8.615924369), (-97.315456398, -4.679147488))
            ThreePointArc((-97.315456398, -4.679147488), (-98.315456398, -5.679147488), (-99.315456398, -4.679147488))
            Line((-99.315456398, -4.679147488), (-99.315456398, 8.615924369))
            ThreePointArc((-99.315456398, 8.615924369), (-98.315456398, 9.615924369), (-97.315456398, 8.615924369))
        make_face()
        with BuildLine():
            Line((-101.315456398, 8.615924369), (-101.315456398, -4.679147488))
            ThreePointArc((-101.315456398, -4.679147488), (-102.315456398, -5.679147488), (-103.315456398, -4.679147488))
            Line((-103.315456398, -4.679147488), (-103.315456398, 8.615924369))
            ThreePointArc((-103.315456398, 8.615924369), (-102.315456398, 9.615924369), (-101.315456398, 8.615924369))
        make_face()
    extrude(amount=-ENL_V_MAT_EXTRU_1_DEPTH, mode=Mode.SUBTRACT)

    # Esquisse3 → Enlèv. mat.-Extru.2 (cut)
    with BuildSketch(Plane.XY.offset(3)):
        with Locations((-149.750905477, -63.499089042)):
            Rectangle(ESQUISSE3_W, ESQUISSE3_H)
    extrude(amount=-ENL_V_MAT_EXTRU_2_DEPTH, mode=Mode.SUBTRACT)


with BuildPart() as enl_v_mat_extru_2_piece_1:
    # of the separate pieces the step leaves, piece 1, a body of its own (enl_v_mat_extru_2_pieces)
    add(part.part.solids().sort_by_distance((7.570331496, 0.900815081, 0))[0])


with BuildPart() as enl_v_mat_extru_2_piece_2:
    # of the separate pieces the step leaves, piece 2, a body of its own (enl_v_mat_extru_2_pieces)
    add(part.part.solids().sort_by_distance((-159.478985875, 0.90663895, 0))[0])


solid = Compound([enl_v_mat_extru_2_piece_1.part, enl_v_mat_extru_2_piece_2.part])
